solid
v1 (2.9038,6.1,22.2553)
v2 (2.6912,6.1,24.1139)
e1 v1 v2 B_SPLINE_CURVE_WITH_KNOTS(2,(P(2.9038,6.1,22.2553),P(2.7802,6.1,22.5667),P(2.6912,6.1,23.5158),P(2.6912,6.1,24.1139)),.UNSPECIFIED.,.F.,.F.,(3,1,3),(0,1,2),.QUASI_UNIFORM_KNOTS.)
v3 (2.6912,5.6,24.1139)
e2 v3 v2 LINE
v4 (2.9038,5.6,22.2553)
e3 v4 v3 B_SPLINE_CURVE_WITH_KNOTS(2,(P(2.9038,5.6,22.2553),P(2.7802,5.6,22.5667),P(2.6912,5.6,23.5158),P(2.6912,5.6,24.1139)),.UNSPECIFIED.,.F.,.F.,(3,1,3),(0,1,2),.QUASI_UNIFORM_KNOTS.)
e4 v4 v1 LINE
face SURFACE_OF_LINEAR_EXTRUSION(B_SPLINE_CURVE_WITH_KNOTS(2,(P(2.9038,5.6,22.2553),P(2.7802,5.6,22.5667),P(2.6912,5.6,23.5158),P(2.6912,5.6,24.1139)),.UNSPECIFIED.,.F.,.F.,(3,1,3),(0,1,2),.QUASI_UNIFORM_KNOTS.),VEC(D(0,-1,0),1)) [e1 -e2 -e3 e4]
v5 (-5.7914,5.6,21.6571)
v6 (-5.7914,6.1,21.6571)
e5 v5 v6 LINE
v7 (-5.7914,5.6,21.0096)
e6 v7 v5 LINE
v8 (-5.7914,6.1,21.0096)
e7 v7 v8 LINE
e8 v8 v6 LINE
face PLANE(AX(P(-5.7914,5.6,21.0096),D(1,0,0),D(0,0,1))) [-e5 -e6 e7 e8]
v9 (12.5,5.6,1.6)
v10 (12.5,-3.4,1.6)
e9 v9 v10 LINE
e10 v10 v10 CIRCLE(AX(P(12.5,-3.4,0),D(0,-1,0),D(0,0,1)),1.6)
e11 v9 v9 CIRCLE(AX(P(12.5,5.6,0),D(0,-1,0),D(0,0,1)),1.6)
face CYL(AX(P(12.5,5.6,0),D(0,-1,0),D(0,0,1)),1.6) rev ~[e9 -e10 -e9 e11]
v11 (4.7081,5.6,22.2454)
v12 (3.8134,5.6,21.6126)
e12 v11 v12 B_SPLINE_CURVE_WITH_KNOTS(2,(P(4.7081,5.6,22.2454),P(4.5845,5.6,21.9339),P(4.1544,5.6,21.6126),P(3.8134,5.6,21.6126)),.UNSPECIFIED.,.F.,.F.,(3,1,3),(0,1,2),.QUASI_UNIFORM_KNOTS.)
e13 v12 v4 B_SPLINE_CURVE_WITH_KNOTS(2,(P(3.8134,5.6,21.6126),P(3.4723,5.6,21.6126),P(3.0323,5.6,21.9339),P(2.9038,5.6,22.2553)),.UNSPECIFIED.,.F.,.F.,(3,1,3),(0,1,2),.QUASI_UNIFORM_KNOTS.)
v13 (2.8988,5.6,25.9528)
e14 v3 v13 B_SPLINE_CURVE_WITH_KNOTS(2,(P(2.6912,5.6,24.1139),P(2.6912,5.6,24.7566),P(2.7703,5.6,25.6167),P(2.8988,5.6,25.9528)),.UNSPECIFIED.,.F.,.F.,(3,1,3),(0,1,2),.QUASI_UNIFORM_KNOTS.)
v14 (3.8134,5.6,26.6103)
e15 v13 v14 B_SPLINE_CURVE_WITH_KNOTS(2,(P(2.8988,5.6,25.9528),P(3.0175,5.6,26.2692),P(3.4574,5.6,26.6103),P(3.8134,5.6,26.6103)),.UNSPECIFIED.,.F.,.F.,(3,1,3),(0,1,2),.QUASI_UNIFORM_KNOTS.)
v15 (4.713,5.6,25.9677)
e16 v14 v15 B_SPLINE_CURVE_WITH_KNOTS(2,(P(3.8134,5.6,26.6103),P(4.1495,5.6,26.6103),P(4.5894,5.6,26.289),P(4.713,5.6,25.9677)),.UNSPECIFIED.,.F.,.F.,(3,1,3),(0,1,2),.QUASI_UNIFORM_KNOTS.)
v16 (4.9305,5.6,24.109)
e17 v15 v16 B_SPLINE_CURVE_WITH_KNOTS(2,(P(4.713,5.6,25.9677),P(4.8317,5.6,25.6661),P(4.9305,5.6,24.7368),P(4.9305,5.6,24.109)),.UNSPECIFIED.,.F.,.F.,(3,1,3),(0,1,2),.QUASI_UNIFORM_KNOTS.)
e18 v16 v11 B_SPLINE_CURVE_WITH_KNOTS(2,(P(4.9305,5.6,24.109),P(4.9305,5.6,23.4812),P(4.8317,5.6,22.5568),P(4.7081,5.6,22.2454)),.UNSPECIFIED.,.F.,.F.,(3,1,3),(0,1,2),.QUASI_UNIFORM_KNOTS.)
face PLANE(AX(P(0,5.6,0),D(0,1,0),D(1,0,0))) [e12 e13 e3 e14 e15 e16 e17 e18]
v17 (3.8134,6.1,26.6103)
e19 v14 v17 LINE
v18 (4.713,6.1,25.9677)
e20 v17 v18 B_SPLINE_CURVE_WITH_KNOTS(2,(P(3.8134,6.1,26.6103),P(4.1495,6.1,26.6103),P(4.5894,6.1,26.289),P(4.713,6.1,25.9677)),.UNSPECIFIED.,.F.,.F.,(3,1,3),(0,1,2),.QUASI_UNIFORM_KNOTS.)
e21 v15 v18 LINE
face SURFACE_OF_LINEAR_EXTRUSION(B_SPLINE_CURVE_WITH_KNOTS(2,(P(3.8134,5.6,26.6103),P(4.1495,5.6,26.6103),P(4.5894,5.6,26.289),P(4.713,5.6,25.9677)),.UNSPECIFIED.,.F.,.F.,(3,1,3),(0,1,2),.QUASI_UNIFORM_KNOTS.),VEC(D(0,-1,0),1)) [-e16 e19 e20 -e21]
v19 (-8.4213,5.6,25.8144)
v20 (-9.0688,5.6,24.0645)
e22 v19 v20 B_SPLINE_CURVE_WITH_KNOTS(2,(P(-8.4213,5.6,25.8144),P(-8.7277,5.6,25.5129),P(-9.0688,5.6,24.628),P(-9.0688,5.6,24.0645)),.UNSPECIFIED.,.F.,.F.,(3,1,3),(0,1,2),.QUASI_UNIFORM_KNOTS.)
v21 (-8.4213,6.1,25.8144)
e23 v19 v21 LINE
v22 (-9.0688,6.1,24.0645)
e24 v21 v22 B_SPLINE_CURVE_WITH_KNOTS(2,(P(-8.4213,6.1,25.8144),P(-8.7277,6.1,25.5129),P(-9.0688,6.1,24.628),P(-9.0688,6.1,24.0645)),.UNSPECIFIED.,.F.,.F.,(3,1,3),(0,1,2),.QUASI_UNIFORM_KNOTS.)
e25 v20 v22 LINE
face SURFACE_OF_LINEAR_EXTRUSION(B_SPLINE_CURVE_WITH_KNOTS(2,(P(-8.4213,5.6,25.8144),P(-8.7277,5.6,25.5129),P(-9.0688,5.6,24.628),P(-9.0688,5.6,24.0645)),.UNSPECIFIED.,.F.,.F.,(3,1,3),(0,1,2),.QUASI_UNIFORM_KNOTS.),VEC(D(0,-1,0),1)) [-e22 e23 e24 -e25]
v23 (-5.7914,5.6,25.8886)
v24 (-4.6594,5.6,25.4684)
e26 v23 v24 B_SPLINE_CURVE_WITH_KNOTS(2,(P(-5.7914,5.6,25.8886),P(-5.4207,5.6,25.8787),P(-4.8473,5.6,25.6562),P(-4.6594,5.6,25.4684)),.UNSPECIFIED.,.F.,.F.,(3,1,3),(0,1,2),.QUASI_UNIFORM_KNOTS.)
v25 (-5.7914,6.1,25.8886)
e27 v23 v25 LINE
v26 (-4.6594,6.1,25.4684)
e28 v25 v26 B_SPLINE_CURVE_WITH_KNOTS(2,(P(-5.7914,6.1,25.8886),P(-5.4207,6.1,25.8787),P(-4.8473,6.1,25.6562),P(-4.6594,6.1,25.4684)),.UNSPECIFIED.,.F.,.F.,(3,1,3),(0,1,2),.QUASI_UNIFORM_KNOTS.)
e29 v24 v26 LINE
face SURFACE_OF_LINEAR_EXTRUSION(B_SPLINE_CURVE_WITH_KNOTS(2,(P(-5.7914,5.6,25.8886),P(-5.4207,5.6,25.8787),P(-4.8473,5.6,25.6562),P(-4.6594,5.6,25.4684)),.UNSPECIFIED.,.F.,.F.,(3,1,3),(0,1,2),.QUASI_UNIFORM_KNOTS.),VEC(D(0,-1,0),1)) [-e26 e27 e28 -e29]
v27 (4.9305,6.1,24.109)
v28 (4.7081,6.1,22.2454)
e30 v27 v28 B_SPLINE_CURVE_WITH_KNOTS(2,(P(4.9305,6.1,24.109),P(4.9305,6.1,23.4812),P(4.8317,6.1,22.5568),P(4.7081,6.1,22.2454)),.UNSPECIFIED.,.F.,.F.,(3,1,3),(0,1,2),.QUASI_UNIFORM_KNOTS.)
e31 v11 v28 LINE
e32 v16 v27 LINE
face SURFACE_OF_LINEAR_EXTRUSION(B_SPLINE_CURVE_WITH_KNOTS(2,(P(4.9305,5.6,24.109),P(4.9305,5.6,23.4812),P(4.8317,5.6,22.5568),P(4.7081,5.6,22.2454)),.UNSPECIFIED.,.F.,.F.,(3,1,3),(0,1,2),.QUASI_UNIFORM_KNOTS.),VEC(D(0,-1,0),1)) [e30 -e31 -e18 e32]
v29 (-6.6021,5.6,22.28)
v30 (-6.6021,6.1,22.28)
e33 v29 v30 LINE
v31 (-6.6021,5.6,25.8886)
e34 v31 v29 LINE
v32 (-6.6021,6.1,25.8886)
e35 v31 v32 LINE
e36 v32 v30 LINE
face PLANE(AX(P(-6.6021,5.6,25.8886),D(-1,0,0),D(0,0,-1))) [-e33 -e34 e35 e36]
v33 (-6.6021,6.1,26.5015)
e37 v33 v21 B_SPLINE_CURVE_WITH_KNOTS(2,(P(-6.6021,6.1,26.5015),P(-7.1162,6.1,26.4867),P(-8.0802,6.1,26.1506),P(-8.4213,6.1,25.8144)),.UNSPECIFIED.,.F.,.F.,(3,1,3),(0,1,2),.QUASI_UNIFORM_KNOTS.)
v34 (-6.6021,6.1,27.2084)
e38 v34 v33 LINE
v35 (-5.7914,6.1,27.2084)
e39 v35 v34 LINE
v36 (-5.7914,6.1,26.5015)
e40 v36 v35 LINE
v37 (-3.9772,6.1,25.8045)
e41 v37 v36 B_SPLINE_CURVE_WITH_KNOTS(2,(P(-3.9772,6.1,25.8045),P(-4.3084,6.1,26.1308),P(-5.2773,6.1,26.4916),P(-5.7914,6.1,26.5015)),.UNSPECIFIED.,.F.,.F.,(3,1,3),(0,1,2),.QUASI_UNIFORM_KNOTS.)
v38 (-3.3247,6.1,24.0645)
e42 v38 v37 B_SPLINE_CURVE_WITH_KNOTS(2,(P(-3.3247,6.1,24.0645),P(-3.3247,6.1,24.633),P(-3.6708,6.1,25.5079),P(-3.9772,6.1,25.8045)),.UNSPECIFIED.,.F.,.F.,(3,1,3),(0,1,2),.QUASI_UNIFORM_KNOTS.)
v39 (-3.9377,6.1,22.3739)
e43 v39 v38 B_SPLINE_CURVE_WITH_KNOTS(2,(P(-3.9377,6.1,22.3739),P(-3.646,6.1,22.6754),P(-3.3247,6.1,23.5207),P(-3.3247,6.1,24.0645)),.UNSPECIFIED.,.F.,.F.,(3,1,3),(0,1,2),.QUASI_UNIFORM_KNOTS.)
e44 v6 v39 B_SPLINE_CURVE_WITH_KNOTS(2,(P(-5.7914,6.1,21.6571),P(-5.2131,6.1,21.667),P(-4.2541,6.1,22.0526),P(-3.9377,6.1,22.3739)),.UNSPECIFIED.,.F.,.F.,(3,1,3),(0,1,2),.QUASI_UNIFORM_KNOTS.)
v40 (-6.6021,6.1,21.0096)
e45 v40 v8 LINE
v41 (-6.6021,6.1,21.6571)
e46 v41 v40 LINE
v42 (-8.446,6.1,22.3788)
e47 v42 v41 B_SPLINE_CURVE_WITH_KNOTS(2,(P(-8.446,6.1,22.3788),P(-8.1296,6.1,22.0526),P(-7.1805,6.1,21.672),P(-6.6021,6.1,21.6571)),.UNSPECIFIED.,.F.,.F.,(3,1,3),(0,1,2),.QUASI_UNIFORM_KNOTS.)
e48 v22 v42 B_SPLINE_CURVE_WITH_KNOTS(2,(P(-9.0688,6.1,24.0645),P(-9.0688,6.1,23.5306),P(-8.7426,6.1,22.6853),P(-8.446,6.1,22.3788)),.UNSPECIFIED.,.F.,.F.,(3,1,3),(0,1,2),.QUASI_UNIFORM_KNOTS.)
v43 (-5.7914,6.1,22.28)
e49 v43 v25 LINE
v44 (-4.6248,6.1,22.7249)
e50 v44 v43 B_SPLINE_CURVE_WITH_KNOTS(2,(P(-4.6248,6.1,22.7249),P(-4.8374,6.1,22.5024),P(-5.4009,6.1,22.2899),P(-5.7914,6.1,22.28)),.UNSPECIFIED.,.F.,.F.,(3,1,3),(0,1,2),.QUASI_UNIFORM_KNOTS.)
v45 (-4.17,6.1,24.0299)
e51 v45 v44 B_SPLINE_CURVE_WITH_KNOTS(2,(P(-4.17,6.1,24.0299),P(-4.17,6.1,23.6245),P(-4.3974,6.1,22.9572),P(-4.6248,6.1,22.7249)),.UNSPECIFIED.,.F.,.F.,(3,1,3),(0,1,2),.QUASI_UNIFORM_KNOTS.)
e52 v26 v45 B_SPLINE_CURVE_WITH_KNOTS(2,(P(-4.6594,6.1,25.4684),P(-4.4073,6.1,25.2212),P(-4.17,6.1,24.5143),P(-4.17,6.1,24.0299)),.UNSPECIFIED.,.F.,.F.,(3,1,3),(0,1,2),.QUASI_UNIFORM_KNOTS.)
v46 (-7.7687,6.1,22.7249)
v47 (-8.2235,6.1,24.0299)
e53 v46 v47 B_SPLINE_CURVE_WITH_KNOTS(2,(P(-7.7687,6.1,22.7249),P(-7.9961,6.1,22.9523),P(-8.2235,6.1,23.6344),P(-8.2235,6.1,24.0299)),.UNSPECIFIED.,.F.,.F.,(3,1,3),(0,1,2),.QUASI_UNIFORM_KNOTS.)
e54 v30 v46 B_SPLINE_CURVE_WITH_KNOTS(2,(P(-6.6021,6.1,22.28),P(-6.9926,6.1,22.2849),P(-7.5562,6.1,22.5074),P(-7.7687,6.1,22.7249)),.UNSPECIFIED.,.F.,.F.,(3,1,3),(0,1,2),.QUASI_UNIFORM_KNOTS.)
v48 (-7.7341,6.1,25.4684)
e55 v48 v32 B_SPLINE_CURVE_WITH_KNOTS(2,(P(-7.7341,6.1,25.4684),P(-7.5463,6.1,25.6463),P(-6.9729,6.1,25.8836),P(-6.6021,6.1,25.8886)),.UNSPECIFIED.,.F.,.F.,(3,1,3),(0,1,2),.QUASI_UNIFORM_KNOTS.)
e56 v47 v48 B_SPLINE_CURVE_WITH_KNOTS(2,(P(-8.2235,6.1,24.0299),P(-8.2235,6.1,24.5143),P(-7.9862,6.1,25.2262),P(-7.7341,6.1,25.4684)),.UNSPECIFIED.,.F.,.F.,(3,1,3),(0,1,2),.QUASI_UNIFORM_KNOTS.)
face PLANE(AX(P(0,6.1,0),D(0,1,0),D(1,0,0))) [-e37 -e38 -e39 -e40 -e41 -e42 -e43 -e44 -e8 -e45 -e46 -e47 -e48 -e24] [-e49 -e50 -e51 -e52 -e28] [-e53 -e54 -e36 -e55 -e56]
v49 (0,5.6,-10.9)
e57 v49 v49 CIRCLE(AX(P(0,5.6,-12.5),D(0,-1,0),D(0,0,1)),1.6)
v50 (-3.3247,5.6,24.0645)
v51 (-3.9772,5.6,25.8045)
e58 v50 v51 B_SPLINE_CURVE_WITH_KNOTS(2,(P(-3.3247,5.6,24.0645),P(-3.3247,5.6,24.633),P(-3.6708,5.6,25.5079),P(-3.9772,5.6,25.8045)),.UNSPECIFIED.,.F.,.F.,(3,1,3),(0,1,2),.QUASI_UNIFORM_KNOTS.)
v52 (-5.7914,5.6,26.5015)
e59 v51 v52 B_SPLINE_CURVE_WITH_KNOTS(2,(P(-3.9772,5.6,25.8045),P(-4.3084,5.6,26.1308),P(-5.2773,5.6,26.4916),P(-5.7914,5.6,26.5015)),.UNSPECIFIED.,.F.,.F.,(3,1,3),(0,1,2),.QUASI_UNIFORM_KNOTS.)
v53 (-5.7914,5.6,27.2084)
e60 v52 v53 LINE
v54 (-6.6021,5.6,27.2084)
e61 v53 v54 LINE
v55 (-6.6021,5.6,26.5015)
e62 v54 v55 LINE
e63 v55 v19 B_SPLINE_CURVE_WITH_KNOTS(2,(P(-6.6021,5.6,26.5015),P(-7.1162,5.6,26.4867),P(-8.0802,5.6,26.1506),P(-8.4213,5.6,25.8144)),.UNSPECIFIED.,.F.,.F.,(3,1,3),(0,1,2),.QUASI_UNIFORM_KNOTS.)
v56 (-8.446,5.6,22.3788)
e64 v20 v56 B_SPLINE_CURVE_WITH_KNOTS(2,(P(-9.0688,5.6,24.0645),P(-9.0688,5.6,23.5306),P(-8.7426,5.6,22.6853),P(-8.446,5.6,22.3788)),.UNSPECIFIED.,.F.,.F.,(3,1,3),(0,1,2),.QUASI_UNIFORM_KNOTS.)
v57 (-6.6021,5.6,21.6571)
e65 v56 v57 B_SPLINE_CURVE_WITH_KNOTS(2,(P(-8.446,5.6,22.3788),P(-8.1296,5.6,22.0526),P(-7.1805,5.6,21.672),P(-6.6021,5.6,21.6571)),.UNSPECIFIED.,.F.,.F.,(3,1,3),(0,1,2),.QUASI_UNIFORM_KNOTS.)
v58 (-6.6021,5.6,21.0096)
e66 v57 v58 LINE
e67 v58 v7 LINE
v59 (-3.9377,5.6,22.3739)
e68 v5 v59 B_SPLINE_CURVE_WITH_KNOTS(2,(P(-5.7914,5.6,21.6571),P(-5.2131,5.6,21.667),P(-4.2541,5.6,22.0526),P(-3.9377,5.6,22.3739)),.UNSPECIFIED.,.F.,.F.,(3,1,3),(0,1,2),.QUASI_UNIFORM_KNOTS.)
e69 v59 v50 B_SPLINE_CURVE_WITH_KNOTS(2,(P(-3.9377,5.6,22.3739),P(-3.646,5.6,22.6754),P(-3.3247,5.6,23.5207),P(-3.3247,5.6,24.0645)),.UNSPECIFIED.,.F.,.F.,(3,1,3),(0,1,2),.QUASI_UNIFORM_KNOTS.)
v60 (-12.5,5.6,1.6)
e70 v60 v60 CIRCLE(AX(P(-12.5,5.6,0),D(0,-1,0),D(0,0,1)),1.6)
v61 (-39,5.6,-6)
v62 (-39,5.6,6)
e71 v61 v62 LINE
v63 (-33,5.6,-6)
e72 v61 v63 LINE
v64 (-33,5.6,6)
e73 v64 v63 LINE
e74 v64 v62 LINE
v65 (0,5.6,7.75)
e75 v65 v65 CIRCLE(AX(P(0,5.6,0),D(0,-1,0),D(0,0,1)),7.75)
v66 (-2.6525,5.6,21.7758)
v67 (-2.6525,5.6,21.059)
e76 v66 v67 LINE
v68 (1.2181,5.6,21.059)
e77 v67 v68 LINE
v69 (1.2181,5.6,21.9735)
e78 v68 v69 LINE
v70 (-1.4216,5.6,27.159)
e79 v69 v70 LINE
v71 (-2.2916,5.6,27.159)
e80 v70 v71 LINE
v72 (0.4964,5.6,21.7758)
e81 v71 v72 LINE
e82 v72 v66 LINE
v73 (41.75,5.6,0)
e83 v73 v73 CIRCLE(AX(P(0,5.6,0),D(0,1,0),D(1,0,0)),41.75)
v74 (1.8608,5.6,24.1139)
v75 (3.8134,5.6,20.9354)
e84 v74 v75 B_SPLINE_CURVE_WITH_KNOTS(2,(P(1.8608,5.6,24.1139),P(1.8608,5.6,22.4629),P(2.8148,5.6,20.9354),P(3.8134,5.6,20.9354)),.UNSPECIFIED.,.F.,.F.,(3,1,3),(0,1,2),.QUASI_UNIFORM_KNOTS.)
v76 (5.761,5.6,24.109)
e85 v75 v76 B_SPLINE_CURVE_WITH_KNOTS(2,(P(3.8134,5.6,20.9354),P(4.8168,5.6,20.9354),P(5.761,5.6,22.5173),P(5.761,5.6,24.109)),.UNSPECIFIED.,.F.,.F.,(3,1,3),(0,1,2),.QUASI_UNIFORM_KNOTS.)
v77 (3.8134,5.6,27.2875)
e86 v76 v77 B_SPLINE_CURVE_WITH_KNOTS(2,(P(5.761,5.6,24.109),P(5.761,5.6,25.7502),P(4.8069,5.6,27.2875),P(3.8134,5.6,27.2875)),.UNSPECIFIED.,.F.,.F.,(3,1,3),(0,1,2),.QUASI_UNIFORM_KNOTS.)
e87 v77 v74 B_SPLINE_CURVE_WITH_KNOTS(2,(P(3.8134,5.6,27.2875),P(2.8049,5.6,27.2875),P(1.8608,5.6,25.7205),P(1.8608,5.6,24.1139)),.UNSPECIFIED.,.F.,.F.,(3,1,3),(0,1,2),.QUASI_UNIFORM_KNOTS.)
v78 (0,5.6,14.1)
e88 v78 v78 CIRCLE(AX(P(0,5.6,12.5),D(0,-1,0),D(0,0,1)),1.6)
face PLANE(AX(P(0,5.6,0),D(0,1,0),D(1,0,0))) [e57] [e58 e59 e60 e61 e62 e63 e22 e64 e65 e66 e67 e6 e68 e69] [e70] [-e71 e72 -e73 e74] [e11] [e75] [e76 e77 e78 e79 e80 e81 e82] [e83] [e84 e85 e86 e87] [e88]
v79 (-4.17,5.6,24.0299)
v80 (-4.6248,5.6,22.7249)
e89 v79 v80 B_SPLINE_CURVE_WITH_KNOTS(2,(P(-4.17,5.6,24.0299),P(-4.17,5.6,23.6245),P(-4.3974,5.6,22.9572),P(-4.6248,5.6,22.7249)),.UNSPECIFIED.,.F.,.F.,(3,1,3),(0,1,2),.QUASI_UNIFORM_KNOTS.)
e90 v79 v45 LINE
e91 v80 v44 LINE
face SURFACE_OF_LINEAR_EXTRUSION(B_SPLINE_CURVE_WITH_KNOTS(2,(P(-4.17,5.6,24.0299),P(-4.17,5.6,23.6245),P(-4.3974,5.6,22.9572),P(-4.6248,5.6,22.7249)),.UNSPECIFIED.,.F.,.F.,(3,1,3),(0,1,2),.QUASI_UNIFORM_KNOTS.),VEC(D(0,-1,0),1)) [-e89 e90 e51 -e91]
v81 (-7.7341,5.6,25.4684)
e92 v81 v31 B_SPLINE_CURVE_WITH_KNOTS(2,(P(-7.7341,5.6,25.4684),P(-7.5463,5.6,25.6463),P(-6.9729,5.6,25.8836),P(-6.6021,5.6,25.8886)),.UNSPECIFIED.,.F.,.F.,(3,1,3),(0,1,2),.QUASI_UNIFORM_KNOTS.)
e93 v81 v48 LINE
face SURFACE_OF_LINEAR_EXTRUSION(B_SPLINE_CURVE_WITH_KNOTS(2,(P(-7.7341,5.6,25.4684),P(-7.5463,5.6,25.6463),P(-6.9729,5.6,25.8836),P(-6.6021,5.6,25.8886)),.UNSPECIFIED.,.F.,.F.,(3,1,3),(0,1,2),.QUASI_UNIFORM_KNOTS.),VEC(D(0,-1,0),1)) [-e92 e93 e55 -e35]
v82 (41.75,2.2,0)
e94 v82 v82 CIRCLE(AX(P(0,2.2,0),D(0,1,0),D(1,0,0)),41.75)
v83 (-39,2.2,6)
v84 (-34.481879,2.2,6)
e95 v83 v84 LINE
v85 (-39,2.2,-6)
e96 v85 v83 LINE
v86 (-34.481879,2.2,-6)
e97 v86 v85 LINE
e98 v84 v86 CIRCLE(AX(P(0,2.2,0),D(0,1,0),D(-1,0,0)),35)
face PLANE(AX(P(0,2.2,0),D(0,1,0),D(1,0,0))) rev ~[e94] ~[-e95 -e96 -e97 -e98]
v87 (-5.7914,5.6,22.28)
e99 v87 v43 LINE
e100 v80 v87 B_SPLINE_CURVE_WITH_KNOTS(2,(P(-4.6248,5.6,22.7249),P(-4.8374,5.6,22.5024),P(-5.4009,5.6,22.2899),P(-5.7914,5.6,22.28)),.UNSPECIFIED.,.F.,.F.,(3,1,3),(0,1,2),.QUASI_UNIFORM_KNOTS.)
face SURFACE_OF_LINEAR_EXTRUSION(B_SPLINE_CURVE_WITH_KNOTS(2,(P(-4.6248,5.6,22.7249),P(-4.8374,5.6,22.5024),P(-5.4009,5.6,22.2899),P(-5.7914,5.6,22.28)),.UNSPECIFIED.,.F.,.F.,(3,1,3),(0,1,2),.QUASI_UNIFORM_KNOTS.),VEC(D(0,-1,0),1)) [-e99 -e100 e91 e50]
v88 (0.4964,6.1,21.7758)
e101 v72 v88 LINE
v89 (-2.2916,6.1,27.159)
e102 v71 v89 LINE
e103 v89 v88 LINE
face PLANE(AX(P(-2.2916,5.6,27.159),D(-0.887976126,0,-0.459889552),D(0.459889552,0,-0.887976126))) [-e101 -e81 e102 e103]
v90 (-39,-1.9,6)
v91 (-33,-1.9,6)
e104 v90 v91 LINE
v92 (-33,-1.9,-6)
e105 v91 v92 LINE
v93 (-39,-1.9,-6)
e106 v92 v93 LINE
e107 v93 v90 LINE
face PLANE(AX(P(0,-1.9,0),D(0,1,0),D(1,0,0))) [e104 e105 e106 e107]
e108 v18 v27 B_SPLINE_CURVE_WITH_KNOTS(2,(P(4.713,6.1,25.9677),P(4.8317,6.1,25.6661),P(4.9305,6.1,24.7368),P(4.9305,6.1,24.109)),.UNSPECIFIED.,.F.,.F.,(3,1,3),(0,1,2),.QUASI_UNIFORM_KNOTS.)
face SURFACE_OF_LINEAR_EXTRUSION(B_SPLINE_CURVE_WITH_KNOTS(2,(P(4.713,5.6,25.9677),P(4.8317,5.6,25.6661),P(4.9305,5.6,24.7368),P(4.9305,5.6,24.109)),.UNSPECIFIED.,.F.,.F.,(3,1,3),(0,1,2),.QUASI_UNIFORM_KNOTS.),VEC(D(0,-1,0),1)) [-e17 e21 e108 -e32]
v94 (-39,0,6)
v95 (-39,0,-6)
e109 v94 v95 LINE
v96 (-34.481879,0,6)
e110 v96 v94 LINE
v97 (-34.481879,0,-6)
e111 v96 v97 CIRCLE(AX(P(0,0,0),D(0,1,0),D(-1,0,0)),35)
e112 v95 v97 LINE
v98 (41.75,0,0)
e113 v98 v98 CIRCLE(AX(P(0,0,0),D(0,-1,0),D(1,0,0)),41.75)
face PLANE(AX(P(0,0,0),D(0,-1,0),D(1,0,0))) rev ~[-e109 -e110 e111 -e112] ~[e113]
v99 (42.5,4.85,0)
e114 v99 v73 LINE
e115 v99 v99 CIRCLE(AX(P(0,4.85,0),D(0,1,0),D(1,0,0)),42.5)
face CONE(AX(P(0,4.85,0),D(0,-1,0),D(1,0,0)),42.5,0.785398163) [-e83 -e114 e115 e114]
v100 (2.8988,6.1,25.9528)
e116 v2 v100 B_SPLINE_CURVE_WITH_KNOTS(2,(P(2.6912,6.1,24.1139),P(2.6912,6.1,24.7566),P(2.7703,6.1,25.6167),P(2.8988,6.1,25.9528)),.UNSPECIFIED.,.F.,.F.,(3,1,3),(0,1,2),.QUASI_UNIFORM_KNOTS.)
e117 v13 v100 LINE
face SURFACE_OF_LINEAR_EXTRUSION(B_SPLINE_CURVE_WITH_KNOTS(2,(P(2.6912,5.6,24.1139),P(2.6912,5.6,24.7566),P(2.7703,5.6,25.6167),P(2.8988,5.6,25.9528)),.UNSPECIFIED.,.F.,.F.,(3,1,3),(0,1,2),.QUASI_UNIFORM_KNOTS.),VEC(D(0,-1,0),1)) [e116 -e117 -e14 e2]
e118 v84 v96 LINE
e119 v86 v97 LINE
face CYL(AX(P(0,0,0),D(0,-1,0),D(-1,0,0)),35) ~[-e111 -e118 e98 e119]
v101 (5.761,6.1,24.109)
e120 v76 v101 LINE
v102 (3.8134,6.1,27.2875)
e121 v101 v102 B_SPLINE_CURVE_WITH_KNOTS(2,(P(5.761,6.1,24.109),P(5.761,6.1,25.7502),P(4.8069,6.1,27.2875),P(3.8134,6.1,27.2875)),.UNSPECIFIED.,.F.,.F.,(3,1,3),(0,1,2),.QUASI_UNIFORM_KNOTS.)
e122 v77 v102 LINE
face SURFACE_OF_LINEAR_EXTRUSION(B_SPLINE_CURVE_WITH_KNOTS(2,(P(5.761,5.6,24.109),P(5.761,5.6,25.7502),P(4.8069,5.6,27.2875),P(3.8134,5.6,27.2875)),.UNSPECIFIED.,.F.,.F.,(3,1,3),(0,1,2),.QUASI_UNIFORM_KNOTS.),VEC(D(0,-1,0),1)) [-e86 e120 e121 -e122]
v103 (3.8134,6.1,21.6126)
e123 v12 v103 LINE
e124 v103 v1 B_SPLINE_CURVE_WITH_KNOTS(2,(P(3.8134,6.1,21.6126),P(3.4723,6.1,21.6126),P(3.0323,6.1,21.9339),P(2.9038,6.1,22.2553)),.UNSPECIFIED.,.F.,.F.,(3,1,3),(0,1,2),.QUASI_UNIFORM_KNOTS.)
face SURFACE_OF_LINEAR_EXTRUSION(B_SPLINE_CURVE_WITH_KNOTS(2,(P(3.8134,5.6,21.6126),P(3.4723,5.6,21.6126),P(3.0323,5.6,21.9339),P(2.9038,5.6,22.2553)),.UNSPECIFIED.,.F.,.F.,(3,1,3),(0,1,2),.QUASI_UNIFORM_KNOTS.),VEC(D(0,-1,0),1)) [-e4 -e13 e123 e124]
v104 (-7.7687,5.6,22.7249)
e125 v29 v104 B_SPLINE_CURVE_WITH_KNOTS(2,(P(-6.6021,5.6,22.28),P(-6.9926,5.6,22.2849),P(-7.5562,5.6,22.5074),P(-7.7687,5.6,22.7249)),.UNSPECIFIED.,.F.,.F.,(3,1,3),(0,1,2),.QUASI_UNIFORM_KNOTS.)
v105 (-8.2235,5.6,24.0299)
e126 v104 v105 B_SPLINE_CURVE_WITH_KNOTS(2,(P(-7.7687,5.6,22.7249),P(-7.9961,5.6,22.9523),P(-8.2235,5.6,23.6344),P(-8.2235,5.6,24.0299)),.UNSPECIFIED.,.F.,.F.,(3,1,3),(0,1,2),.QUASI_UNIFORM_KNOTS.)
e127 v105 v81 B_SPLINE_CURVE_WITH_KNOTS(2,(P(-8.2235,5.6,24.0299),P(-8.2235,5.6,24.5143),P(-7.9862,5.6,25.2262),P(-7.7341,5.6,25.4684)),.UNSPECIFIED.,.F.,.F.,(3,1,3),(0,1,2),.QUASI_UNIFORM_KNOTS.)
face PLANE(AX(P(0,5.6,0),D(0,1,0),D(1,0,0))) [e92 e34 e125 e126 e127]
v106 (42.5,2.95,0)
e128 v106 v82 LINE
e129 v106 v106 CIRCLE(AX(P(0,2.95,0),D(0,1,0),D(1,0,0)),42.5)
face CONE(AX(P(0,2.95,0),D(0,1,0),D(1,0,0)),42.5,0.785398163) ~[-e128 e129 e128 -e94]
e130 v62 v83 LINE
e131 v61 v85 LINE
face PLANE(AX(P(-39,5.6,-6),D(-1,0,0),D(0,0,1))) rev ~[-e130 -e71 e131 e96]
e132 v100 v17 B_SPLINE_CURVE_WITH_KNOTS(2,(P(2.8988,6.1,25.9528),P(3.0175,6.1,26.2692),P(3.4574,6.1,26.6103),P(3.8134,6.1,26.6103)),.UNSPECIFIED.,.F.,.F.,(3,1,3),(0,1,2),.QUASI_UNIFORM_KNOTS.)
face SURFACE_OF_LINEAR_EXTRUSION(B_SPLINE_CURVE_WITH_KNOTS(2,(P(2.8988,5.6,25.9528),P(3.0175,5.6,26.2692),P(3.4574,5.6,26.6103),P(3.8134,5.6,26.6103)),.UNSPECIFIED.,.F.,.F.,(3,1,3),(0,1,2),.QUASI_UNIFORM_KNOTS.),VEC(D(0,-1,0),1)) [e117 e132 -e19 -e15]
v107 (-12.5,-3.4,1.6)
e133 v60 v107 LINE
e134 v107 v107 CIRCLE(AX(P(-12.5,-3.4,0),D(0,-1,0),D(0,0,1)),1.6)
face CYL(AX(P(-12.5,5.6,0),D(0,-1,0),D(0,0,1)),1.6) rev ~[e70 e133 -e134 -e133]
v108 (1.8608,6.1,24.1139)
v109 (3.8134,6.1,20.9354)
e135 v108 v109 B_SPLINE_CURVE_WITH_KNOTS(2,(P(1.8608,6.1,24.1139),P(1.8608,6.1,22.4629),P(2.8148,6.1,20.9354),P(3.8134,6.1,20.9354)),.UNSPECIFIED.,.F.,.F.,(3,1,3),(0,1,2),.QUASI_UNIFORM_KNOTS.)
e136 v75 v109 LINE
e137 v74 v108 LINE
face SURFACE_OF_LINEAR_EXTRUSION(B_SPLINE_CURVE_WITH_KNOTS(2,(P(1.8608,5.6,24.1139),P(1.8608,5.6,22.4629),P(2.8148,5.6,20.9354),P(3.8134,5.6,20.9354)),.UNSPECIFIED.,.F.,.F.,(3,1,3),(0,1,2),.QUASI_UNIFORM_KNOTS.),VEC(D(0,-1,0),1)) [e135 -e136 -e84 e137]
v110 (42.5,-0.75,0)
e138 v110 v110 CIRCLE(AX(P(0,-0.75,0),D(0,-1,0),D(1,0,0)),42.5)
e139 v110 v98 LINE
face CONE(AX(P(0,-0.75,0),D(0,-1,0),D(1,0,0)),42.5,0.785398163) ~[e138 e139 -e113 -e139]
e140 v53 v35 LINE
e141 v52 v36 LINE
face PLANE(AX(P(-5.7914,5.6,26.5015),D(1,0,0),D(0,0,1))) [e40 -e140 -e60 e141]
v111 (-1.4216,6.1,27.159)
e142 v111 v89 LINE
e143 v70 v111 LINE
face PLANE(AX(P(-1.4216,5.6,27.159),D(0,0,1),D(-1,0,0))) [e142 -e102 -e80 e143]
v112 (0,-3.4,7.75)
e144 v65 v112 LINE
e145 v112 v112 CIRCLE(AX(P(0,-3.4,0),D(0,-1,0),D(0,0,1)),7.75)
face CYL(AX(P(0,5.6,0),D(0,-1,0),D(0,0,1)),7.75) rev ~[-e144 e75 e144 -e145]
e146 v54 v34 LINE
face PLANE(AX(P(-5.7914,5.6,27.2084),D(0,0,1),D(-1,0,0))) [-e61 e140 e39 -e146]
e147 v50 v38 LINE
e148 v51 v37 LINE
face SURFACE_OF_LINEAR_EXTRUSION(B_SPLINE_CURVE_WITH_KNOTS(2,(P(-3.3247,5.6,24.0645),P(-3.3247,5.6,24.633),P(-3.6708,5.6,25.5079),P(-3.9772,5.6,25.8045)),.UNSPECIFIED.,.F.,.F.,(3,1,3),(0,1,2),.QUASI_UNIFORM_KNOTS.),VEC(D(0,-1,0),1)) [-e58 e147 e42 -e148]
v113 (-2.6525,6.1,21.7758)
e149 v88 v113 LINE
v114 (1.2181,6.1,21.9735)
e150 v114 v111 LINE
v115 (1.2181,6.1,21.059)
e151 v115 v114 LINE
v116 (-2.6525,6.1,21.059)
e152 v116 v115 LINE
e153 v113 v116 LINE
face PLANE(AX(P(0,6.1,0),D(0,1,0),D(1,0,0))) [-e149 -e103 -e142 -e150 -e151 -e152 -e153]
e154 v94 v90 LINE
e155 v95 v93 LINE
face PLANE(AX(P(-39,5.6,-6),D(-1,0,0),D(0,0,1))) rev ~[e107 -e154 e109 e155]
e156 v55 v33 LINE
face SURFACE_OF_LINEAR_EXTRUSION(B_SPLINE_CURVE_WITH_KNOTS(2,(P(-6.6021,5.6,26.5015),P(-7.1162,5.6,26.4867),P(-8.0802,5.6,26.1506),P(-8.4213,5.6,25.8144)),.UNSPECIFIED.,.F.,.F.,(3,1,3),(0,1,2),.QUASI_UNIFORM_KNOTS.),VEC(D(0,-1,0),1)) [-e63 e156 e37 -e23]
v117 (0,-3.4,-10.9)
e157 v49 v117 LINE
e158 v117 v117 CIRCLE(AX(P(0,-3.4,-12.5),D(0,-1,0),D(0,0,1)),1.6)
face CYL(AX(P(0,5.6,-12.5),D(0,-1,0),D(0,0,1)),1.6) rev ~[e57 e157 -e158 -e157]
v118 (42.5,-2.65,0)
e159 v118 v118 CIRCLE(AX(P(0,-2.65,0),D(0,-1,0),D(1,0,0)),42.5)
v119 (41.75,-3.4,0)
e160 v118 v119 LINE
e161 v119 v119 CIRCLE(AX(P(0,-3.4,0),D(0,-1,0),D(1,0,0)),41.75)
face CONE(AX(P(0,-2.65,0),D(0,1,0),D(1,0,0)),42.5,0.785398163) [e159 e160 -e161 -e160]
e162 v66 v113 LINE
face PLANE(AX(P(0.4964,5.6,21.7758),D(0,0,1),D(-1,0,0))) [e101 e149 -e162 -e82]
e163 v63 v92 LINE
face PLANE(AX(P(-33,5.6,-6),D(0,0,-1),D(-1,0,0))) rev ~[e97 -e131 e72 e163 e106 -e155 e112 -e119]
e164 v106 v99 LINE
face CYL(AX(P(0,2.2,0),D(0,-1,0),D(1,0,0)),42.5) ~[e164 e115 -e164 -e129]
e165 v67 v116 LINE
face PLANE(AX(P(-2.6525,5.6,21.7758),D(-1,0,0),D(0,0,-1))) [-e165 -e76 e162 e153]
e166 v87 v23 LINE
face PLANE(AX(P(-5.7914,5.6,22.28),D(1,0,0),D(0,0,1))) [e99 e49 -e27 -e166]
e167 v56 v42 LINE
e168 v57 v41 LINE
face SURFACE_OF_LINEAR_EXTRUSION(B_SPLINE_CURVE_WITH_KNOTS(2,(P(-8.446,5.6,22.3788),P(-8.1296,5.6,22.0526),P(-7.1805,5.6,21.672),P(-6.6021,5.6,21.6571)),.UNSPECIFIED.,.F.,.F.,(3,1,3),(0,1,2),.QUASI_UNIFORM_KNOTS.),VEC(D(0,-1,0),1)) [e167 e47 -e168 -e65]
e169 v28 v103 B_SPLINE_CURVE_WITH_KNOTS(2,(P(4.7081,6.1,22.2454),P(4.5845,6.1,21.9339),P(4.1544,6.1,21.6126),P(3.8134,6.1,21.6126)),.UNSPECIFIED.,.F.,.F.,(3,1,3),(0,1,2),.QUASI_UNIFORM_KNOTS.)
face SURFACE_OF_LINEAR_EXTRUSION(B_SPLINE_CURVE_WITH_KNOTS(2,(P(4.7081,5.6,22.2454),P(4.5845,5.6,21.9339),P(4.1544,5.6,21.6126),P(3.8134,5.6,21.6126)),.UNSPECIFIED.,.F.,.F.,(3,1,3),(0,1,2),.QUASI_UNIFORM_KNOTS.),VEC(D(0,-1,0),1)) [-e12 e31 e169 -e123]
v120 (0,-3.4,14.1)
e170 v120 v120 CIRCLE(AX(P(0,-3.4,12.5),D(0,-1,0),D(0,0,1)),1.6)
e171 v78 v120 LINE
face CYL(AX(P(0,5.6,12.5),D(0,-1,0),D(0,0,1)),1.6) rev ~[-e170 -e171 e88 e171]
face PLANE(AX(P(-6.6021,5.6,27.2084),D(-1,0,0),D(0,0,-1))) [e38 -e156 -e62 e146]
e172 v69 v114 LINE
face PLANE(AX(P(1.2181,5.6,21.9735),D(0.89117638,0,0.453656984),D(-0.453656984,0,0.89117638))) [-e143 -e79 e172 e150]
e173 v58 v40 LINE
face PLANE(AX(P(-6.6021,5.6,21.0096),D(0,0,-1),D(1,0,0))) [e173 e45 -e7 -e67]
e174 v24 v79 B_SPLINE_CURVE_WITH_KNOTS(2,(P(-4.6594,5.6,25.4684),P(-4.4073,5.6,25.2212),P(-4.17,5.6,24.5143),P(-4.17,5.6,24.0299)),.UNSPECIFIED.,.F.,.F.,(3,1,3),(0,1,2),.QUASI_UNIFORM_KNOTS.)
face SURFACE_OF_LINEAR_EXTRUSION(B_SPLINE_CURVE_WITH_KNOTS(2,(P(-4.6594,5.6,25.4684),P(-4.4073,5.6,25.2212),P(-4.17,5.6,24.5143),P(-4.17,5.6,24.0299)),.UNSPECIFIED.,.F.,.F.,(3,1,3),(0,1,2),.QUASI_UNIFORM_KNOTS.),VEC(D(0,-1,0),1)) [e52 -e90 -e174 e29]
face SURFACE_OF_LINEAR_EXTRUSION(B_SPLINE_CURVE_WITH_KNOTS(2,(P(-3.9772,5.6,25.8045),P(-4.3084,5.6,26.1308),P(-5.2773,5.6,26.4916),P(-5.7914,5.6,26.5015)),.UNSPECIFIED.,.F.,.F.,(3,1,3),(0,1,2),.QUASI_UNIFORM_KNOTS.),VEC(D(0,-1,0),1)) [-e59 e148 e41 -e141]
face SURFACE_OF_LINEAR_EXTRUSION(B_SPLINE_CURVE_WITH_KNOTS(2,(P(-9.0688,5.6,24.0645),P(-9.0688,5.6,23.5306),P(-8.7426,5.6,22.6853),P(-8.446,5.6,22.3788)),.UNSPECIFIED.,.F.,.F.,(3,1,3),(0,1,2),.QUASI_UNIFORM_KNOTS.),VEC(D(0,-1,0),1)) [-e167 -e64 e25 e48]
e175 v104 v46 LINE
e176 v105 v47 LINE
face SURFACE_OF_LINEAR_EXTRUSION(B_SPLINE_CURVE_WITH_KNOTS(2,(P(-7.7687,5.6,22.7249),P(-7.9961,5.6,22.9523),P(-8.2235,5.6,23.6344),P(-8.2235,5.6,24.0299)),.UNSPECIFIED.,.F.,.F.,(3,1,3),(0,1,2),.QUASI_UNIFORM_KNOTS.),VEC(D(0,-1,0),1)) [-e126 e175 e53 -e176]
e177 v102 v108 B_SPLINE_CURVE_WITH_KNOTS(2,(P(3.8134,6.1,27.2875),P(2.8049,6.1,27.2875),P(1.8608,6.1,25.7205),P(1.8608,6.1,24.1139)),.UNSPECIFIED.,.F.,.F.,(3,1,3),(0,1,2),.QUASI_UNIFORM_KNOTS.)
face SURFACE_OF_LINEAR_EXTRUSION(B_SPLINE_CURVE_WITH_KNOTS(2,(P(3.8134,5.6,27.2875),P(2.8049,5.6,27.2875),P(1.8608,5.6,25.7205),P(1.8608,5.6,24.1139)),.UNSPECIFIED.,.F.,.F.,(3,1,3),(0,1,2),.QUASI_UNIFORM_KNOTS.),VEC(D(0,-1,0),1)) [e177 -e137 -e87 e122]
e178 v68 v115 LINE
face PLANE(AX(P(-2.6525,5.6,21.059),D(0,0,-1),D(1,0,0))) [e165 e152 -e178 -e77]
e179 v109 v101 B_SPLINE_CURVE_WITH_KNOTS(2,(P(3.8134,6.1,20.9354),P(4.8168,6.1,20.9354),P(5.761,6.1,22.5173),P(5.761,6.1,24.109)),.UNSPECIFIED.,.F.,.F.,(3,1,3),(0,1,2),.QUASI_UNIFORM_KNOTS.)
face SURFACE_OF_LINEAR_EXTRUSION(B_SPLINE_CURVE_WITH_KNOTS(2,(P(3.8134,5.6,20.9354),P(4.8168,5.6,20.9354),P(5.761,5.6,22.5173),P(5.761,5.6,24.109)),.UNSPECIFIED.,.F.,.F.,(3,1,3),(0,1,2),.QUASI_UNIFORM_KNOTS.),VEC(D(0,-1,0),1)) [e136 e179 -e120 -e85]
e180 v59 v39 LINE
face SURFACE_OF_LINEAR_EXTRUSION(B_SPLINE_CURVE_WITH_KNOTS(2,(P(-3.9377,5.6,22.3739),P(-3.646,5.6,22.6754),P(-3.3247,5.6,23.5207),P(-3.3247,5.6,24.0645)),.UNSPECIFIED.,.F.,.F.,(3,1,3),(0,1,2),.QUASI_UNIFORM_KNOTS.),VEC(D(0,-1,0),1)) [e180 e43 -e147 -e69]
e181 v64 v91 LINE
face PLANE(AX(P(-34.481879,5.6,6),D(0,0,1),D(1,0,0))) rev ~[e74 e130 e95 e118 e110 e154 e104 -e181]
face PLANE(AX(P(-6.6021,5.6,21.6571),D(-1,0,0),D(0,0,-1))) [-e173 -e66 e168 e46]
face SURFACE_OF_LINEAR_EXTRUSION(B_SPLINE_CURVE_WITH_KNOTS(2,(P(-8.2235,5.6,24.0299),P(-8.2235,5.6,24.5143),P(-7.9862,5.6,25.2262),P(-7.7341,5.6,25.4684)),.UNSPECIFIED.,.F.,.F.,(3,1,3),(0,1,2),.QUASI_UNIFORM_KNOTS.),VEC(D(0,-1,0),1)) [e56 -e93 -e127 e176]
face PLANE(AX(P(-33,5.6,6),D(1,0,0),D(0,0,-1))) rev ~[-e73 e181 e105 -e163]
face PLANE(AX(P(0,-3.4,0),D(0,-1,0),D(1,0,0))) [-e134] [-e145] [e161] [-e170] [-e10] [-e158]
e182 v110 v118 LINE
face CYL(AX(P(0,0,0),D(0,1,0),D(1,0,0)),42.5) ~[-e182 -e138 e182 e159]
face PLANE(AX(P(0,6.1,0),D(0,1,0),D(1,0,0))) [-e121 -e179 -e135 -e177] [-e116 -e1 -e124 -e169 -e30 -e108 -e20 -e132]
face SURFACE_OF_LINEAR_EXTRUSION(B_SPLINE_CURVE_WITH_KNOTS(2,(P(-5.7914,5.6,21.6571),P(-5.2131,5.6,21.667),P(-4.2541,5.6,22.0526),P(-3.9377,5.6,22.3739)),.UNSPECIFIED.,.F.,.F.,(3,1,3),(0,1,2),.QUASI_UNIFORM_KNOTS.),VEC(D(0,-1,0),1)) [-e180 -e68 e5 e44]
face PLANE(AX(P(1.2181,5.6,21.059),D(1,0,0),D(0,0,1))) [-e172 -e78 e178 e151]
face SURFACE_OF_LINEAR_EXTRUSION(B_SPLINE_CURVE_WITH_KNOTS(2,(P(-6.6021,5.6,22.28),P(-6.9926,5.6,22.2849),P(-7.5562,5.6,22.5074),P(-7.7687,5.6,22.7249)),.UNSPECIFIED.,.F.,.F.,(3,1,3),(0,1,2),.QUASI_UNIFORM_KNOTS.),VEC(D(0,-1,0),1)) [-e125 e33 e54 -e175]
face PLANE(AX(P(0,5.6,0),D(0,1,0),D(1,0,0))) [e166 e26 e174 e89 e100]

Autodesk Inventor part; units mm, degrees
ref_plane "YZ Plane" through (0, 0, 0) normal (1, 0, 0) x (0, 1, 0)
ref_plane "XZ Plane" through (0, 0, 0) normal (0, 1, 0) x (-1, 0, 0)
ref_plane "XY Plane" through (0, 0, 0) normal (0, 0, 1) x (1, 0, 0)
sketch "スケッチ1" plane through (0, 0, 0) normal (0, 1, 0) x (-1, 0, 0)
  circle A0 centre (0, 0) radius 35
  dimension "d0" = 70
extrude "押し出し1" add sketch "スケッチ1" along normal blind 2.2
sketch "スケッチ2" plane through (0, 2.2, 0) normal (0, 1, 0) x (1, 0, 0)
  circle A0 centre (0, 0) radius 42.5
  line L0 (-3.2969, -22.0057) -> (4.4145, -22.0057) construction
  line L1 (4.4145, -22.0057) -> (4.4145, -25.1797) construction
  line L2 (4.4145, -25.1797) -> (-3.2969, -25.1797) construction
  line L3 (-3.2969, -25.1797) -> (-3.2969, -22.0057) construction
  dimension "d3" = 85
extrude "押し出し2" add sketch "スケッチ2" along normal blind 3.4
chamfer "面取り1" distance 0.75 angle 45 1 edges at (-42.5, 2.2, 0)
chamfer "面取り2" distance 0.75 angle 45 1 edges at (-42.5, 5.6, 0)
sketch "スケッチ3" plane through (0, 0, 0) normal (0, -1, 0) x (1, 0, 0)
  circle A0 centre (0, 0) radius 42.5
  dimension "d12" = 85
extrude "押し出し3" add sketch "スケッチ3" along normal blind 3.4
chamfer "面取り3" distance 0.75 angle 45 1 edges at (-42.5, 0, 0)
chamfer "面取り4" distance 0.75 angle 45 1 edges at (-42.5, -3.4, 0)
sketch "スケッチ6" plane through (0, 5.6, 0) normal (0, 1, 0) x (1, 0, 0)
  circle A0 centre (0, 0) radius 7.65
  line L0 (0, 7.65) -> (46.8799, 7.65)
  circle A1 centre (0, 0) radius 47.5 projected
  line L1 (0, -7.65) -> (46.8799, -7.65)
  dimension "d39" = 15.3
extrude "押し出し5" [suppressed]
chamfer "面取り7" [suppressed]
chamfer "面取り8" [suppressed]
chamfer "面取り9" [suppressed]
sketch "スケッチ7" plane through (0, 5.6, 0) normal (0, 1, 0) x (1, 0, 0)
  line L0 (-9.3358, -20.9354) -> (21.308, -20.9354) construction
  line L1 (21.308, -20.9354) -> (21.308, -27.5341) construction
  line L2 (21.308, -27.5341) -> (-9.3358, -27.5341) construction
  line L3 (-9.3358, -27.5341) -> (-9.3358, -20.9354) construction
  spline S0 degree 2 poles (-5.7914, -21.6571) (-5.2131, -21.667) (-4.2541, -22.0526) (-3.9377, -22.3739) knots 0 0 0 1 2 2 2
  spline S1 degree 2 poles (-3.9377, -22.3739) (-3.646, -22.6754) (-3.3247, -23.5207) (-3.3247, -24.0645) knots 0 0 0 1 2 2 2
  spline S2 degree 2 poles (-3.3247, -24.0645) (-3.3247, -24.633) (-3.6708, -25.5079) (-3.9772, -25.8045) knots 0 0 0 1 2 2 2
  spline S3 degree 2 poles (-3.9772, -25.8045) (-4.3084, -26.1308) (-5.2773, -26.4916) (-5.7914, -26.5015) knots 0 0 0 1 2 2 2
  line L4 (-5.7914, -26.5015) -> (-5.7914, -27.2084)
  line L5 (-5.7914, -27.2084) -> (-6.6021, -27.2084)
  line L6 (-6.6021, -27.2084) -> (-6.6021, -26.5015)
  spline S4 degree 2 poles (-6.6021, -26.5015) (-7.1162, -26.4867) (-8.0802, -26.1506) (-8.4213, -25.8144) knots 0 0 0 1 2 2 2
  spline S5 degree 2 poles (-8.4213, -25.8144) (-8.7277, -25.5129) (-9.0688, -24.628) (-9.0688, -24.0645) knots 0 0 0 1 2 2 2
  spline S6 degree 2 poles (-9.0688, -24.0645) (-9.0688, -23.5306) (-8.7426, -22.6853) (-8.446, -22.3788) knots 0 0 0 1 2 2 2
  spline S7 degree 2 poles (-8.446, -22.3788) (-8.1296, -22.0526) (-7.1805, -21.672) (-6.6021, -21.6571) knots 0 0 0 1 2 2 2
  line L7 (-6.6021, -21.6571) -> (-6.6021, -21.0096)
  line L8 (-6.6021, -21.0096) -> (-5.7914, -21.0096)
  line L9 (-5.7914, -21.0096) -> (-5.7914, -21.6571)
  spline S8 degree 2 poles (-5.7914, -25.8886) (-5.4207, -25.8787) (-4.8473, -25.6562) (-4.6594, -25.4684) knots 0 0 0 1 2 2 2
  spline S9 degree 2 poles (-4.6594, -25.4684) (-4.4073, -25.2212) (-4.17, -24.5143) (-4.17, -24.0299) knots 0 0 0 1 2 2 2
  spline S10 degree 2 poles (-4.17, -24.0299) (-4.17, -23.6245) (-4.3974, -22.9572) (-4.6248, -22.7249) knots 0 0 0 1 2 2 2
  spline S11 degree 2 poles (-4.6248, -22.7249) (-4.8374, -22.5024) (-5.4009, -22.2899) (-5.7914, -22.28) knots 0 0 0 1 2 2 2
  line L10 (-5.7914, -22.28) -> (-5.7914, -25.8886)
  spline S12 degree 2 poles (-6.6021, -22.28) (-6.9926, -22.2849) (-7.5562, -22.5074) (-7.7687, -22.7249) knots 0 0 0 1 2 2 2
  spline S13 degree 2 poles (-7.7687, -22.7249) (-7.9961, -22.9523) (-8.2235, -23.6344) (-8.2235, -24.0299) knots 0 0 0 1 2 2 2
  spline S14 degree 2 poles (-8.2235, -24.0299) (-8.2235, -24.5143) (-7.9862, -25.2262) (-7.7341, -25.4684) knots 0 0 0 1 2 2 2
  spline S15 degree 2 poles (-7.7341, -25.4684) (-7.5463, -25.6463) (-6.9729, -25.8836) (-6.6021, -25.8886) knots 0 0 0 1 2 2 2
  line L11 (-6.6021, -25.8886) -> (-6.6021, -22.28)
  line L12 (1.2181, -21.9735) -> (-1.4216, -27.159)
  line L13 (-1.4216, -27.159) -> (-2.2916, -27.159)
  line L14 (-2.2916, -27.159) -> (0.4964, -21.7758)
  line L15 (0.4964, -21.7758) -> (-2.6525, -21.7758)
  line L16 (-2.6525, -21.7758) -> (-2.6525, -21.059)
  line L17 (-2.6525, -21.059) -> (1.2181, -21.059)
  line L18 (1.2181, -21.059) -> (1.2181, -21.9735)
  spline S16 degree 2 poles (5.761, -24.109) (5.761, -25.7502) (4.8069, -27.2875) (3.8134, -27.2875) knots 0 0 0 1 2 2 2
  spline S17 degree 2 poles (3.8134, -27.2875) (2.8049, -27.2875) (1.8608, -25.7205) (1.8608, -24.1139) knots 0 0 0 1 2 2 2
  spline S18 degree 2 poles (1.8608, -24.1139) (1.8608, -22.4629) (2.8148, -20.9354) (3.8134, -20.9354) knots 0 0 0 1 2 2 2
  spline S19 degree 2 poles (3.8134, -20.9354) (4.8168, -20.9354) (5.761, -22.5173) (5.761, -24.109) knots 0 0 0 1 2 2 2
  spline S20 degree 2 poles (4.713, -25.9677) (4.8317, -25.6661) (4.9305, -24.7368) (4.9305, -24.109) knots 0 0 0 1 2 2 2
  spline S21 degree 2 poles (4.9305, -24.109) (4.9305, -23.4812) (4.8317, -22.5568) (4.7081, -22.2454) knots 0 0 0 1 2 2 2
  spline S22 degree 2 poles (4.7081, -22.2454) (4.5845, -21.9339) (4.1544, -21.6126) (3.8134, -21.6126) knots 0 0 0 1 2 2 2
  spline S23 degree 2 poles (3.8134, -21.6126) (3.4723, -21.6126) (3.0323, -21.9339) (2.9038, -22.2553) knots 0 0 0 1 2 2 2
  spline S24 degree 2 poles (2.9038, -22.2553) (2.7802, -22.5667) (2.6912, -23.5158) (2.6912, -24.1139) knots 0 0 0 1 2 2 2
  spline S25 degree 2 poles (2.6912, -24.1139) (2.6912, -24.7566) (2.7703, -25.6167) (2.8988, -25.9528) knots 0 0 0 1 2 2 2
  spline S26 degree 2 poles (2.8988, -25.9528) (3.0175, -26.2692) (3.4574, -26.6103) (3.8134, -26.6103) knots 0 0 0 1 2 2 2
  spline S27 degree 2 poles (3.8134, -26.6103) (4.1495, -26.6103) (4.5894, -26.289) (4.713, -25.9677) knots 0 0 0 1 2 2 2
  point P0 (0, 0)
extrude "押し出し6" add sketch "スケッチ7" along normal blind 0.5
sketch "スケッチ8" plane through (0, 5.6, 0) normal (0, 1, 0) x (1, 0, 0)
  line L0 (-33, 6) -> (-39, 6)
  line L1 (-39, 6) -> (-39, -6)
  line L2 (-39, -6) -> (-33, -6)
  line L3 (-33, -6) -> (-33, 6)
  arc A0 (-35, 0) -> (-35, 0) centre (0, 0) ccw projected
  point P0 (-36, -6)
  point P1 (-36, 6)
  dimension "d53" = 12
  dimension "d54" = 6
  dimension "d55" = 33
extrude "押し出し7" cut sketch "スケッチ8" against normal blind 7.5 contours L3 L2 A0 L0 | A0 L2 L1 L0 picked at (-33.6474, -0.6696)
sketch "スケッチ9" plane through (0, 5.6, 0) normal (0, 1, 0) x (1, 0, 0)
  point P0 (0, 0)
  point P1 (0, 0)
hole "穴2" at (0, 5.6, 0) direction (0, -1, 0) diameter 15.5 end through all
sketch "スケッチ10" plane through (0, 5.6, 0) normal (0, 1, 0) x (1, 0, 0)
  circle A0 centre (0, 0) radius 12.5 construction
  point P0 (0, -12.5)
  point P1 (12.5, 0)
  point P2 (0, 12.5)
  point P3 (-12.5, 0)
  dimension "d67" = 25
  dimension "d81" = 360
hole "穴3" at (0, 5.6, 12.5) at (-12.5, 5.6, 0) at (0, 5.6, -12.5) at (12.5, 5.6, 0) direction (0, -1, 0) diameter 3.2 end through all
properties part number "pully_shoulder2_70"
